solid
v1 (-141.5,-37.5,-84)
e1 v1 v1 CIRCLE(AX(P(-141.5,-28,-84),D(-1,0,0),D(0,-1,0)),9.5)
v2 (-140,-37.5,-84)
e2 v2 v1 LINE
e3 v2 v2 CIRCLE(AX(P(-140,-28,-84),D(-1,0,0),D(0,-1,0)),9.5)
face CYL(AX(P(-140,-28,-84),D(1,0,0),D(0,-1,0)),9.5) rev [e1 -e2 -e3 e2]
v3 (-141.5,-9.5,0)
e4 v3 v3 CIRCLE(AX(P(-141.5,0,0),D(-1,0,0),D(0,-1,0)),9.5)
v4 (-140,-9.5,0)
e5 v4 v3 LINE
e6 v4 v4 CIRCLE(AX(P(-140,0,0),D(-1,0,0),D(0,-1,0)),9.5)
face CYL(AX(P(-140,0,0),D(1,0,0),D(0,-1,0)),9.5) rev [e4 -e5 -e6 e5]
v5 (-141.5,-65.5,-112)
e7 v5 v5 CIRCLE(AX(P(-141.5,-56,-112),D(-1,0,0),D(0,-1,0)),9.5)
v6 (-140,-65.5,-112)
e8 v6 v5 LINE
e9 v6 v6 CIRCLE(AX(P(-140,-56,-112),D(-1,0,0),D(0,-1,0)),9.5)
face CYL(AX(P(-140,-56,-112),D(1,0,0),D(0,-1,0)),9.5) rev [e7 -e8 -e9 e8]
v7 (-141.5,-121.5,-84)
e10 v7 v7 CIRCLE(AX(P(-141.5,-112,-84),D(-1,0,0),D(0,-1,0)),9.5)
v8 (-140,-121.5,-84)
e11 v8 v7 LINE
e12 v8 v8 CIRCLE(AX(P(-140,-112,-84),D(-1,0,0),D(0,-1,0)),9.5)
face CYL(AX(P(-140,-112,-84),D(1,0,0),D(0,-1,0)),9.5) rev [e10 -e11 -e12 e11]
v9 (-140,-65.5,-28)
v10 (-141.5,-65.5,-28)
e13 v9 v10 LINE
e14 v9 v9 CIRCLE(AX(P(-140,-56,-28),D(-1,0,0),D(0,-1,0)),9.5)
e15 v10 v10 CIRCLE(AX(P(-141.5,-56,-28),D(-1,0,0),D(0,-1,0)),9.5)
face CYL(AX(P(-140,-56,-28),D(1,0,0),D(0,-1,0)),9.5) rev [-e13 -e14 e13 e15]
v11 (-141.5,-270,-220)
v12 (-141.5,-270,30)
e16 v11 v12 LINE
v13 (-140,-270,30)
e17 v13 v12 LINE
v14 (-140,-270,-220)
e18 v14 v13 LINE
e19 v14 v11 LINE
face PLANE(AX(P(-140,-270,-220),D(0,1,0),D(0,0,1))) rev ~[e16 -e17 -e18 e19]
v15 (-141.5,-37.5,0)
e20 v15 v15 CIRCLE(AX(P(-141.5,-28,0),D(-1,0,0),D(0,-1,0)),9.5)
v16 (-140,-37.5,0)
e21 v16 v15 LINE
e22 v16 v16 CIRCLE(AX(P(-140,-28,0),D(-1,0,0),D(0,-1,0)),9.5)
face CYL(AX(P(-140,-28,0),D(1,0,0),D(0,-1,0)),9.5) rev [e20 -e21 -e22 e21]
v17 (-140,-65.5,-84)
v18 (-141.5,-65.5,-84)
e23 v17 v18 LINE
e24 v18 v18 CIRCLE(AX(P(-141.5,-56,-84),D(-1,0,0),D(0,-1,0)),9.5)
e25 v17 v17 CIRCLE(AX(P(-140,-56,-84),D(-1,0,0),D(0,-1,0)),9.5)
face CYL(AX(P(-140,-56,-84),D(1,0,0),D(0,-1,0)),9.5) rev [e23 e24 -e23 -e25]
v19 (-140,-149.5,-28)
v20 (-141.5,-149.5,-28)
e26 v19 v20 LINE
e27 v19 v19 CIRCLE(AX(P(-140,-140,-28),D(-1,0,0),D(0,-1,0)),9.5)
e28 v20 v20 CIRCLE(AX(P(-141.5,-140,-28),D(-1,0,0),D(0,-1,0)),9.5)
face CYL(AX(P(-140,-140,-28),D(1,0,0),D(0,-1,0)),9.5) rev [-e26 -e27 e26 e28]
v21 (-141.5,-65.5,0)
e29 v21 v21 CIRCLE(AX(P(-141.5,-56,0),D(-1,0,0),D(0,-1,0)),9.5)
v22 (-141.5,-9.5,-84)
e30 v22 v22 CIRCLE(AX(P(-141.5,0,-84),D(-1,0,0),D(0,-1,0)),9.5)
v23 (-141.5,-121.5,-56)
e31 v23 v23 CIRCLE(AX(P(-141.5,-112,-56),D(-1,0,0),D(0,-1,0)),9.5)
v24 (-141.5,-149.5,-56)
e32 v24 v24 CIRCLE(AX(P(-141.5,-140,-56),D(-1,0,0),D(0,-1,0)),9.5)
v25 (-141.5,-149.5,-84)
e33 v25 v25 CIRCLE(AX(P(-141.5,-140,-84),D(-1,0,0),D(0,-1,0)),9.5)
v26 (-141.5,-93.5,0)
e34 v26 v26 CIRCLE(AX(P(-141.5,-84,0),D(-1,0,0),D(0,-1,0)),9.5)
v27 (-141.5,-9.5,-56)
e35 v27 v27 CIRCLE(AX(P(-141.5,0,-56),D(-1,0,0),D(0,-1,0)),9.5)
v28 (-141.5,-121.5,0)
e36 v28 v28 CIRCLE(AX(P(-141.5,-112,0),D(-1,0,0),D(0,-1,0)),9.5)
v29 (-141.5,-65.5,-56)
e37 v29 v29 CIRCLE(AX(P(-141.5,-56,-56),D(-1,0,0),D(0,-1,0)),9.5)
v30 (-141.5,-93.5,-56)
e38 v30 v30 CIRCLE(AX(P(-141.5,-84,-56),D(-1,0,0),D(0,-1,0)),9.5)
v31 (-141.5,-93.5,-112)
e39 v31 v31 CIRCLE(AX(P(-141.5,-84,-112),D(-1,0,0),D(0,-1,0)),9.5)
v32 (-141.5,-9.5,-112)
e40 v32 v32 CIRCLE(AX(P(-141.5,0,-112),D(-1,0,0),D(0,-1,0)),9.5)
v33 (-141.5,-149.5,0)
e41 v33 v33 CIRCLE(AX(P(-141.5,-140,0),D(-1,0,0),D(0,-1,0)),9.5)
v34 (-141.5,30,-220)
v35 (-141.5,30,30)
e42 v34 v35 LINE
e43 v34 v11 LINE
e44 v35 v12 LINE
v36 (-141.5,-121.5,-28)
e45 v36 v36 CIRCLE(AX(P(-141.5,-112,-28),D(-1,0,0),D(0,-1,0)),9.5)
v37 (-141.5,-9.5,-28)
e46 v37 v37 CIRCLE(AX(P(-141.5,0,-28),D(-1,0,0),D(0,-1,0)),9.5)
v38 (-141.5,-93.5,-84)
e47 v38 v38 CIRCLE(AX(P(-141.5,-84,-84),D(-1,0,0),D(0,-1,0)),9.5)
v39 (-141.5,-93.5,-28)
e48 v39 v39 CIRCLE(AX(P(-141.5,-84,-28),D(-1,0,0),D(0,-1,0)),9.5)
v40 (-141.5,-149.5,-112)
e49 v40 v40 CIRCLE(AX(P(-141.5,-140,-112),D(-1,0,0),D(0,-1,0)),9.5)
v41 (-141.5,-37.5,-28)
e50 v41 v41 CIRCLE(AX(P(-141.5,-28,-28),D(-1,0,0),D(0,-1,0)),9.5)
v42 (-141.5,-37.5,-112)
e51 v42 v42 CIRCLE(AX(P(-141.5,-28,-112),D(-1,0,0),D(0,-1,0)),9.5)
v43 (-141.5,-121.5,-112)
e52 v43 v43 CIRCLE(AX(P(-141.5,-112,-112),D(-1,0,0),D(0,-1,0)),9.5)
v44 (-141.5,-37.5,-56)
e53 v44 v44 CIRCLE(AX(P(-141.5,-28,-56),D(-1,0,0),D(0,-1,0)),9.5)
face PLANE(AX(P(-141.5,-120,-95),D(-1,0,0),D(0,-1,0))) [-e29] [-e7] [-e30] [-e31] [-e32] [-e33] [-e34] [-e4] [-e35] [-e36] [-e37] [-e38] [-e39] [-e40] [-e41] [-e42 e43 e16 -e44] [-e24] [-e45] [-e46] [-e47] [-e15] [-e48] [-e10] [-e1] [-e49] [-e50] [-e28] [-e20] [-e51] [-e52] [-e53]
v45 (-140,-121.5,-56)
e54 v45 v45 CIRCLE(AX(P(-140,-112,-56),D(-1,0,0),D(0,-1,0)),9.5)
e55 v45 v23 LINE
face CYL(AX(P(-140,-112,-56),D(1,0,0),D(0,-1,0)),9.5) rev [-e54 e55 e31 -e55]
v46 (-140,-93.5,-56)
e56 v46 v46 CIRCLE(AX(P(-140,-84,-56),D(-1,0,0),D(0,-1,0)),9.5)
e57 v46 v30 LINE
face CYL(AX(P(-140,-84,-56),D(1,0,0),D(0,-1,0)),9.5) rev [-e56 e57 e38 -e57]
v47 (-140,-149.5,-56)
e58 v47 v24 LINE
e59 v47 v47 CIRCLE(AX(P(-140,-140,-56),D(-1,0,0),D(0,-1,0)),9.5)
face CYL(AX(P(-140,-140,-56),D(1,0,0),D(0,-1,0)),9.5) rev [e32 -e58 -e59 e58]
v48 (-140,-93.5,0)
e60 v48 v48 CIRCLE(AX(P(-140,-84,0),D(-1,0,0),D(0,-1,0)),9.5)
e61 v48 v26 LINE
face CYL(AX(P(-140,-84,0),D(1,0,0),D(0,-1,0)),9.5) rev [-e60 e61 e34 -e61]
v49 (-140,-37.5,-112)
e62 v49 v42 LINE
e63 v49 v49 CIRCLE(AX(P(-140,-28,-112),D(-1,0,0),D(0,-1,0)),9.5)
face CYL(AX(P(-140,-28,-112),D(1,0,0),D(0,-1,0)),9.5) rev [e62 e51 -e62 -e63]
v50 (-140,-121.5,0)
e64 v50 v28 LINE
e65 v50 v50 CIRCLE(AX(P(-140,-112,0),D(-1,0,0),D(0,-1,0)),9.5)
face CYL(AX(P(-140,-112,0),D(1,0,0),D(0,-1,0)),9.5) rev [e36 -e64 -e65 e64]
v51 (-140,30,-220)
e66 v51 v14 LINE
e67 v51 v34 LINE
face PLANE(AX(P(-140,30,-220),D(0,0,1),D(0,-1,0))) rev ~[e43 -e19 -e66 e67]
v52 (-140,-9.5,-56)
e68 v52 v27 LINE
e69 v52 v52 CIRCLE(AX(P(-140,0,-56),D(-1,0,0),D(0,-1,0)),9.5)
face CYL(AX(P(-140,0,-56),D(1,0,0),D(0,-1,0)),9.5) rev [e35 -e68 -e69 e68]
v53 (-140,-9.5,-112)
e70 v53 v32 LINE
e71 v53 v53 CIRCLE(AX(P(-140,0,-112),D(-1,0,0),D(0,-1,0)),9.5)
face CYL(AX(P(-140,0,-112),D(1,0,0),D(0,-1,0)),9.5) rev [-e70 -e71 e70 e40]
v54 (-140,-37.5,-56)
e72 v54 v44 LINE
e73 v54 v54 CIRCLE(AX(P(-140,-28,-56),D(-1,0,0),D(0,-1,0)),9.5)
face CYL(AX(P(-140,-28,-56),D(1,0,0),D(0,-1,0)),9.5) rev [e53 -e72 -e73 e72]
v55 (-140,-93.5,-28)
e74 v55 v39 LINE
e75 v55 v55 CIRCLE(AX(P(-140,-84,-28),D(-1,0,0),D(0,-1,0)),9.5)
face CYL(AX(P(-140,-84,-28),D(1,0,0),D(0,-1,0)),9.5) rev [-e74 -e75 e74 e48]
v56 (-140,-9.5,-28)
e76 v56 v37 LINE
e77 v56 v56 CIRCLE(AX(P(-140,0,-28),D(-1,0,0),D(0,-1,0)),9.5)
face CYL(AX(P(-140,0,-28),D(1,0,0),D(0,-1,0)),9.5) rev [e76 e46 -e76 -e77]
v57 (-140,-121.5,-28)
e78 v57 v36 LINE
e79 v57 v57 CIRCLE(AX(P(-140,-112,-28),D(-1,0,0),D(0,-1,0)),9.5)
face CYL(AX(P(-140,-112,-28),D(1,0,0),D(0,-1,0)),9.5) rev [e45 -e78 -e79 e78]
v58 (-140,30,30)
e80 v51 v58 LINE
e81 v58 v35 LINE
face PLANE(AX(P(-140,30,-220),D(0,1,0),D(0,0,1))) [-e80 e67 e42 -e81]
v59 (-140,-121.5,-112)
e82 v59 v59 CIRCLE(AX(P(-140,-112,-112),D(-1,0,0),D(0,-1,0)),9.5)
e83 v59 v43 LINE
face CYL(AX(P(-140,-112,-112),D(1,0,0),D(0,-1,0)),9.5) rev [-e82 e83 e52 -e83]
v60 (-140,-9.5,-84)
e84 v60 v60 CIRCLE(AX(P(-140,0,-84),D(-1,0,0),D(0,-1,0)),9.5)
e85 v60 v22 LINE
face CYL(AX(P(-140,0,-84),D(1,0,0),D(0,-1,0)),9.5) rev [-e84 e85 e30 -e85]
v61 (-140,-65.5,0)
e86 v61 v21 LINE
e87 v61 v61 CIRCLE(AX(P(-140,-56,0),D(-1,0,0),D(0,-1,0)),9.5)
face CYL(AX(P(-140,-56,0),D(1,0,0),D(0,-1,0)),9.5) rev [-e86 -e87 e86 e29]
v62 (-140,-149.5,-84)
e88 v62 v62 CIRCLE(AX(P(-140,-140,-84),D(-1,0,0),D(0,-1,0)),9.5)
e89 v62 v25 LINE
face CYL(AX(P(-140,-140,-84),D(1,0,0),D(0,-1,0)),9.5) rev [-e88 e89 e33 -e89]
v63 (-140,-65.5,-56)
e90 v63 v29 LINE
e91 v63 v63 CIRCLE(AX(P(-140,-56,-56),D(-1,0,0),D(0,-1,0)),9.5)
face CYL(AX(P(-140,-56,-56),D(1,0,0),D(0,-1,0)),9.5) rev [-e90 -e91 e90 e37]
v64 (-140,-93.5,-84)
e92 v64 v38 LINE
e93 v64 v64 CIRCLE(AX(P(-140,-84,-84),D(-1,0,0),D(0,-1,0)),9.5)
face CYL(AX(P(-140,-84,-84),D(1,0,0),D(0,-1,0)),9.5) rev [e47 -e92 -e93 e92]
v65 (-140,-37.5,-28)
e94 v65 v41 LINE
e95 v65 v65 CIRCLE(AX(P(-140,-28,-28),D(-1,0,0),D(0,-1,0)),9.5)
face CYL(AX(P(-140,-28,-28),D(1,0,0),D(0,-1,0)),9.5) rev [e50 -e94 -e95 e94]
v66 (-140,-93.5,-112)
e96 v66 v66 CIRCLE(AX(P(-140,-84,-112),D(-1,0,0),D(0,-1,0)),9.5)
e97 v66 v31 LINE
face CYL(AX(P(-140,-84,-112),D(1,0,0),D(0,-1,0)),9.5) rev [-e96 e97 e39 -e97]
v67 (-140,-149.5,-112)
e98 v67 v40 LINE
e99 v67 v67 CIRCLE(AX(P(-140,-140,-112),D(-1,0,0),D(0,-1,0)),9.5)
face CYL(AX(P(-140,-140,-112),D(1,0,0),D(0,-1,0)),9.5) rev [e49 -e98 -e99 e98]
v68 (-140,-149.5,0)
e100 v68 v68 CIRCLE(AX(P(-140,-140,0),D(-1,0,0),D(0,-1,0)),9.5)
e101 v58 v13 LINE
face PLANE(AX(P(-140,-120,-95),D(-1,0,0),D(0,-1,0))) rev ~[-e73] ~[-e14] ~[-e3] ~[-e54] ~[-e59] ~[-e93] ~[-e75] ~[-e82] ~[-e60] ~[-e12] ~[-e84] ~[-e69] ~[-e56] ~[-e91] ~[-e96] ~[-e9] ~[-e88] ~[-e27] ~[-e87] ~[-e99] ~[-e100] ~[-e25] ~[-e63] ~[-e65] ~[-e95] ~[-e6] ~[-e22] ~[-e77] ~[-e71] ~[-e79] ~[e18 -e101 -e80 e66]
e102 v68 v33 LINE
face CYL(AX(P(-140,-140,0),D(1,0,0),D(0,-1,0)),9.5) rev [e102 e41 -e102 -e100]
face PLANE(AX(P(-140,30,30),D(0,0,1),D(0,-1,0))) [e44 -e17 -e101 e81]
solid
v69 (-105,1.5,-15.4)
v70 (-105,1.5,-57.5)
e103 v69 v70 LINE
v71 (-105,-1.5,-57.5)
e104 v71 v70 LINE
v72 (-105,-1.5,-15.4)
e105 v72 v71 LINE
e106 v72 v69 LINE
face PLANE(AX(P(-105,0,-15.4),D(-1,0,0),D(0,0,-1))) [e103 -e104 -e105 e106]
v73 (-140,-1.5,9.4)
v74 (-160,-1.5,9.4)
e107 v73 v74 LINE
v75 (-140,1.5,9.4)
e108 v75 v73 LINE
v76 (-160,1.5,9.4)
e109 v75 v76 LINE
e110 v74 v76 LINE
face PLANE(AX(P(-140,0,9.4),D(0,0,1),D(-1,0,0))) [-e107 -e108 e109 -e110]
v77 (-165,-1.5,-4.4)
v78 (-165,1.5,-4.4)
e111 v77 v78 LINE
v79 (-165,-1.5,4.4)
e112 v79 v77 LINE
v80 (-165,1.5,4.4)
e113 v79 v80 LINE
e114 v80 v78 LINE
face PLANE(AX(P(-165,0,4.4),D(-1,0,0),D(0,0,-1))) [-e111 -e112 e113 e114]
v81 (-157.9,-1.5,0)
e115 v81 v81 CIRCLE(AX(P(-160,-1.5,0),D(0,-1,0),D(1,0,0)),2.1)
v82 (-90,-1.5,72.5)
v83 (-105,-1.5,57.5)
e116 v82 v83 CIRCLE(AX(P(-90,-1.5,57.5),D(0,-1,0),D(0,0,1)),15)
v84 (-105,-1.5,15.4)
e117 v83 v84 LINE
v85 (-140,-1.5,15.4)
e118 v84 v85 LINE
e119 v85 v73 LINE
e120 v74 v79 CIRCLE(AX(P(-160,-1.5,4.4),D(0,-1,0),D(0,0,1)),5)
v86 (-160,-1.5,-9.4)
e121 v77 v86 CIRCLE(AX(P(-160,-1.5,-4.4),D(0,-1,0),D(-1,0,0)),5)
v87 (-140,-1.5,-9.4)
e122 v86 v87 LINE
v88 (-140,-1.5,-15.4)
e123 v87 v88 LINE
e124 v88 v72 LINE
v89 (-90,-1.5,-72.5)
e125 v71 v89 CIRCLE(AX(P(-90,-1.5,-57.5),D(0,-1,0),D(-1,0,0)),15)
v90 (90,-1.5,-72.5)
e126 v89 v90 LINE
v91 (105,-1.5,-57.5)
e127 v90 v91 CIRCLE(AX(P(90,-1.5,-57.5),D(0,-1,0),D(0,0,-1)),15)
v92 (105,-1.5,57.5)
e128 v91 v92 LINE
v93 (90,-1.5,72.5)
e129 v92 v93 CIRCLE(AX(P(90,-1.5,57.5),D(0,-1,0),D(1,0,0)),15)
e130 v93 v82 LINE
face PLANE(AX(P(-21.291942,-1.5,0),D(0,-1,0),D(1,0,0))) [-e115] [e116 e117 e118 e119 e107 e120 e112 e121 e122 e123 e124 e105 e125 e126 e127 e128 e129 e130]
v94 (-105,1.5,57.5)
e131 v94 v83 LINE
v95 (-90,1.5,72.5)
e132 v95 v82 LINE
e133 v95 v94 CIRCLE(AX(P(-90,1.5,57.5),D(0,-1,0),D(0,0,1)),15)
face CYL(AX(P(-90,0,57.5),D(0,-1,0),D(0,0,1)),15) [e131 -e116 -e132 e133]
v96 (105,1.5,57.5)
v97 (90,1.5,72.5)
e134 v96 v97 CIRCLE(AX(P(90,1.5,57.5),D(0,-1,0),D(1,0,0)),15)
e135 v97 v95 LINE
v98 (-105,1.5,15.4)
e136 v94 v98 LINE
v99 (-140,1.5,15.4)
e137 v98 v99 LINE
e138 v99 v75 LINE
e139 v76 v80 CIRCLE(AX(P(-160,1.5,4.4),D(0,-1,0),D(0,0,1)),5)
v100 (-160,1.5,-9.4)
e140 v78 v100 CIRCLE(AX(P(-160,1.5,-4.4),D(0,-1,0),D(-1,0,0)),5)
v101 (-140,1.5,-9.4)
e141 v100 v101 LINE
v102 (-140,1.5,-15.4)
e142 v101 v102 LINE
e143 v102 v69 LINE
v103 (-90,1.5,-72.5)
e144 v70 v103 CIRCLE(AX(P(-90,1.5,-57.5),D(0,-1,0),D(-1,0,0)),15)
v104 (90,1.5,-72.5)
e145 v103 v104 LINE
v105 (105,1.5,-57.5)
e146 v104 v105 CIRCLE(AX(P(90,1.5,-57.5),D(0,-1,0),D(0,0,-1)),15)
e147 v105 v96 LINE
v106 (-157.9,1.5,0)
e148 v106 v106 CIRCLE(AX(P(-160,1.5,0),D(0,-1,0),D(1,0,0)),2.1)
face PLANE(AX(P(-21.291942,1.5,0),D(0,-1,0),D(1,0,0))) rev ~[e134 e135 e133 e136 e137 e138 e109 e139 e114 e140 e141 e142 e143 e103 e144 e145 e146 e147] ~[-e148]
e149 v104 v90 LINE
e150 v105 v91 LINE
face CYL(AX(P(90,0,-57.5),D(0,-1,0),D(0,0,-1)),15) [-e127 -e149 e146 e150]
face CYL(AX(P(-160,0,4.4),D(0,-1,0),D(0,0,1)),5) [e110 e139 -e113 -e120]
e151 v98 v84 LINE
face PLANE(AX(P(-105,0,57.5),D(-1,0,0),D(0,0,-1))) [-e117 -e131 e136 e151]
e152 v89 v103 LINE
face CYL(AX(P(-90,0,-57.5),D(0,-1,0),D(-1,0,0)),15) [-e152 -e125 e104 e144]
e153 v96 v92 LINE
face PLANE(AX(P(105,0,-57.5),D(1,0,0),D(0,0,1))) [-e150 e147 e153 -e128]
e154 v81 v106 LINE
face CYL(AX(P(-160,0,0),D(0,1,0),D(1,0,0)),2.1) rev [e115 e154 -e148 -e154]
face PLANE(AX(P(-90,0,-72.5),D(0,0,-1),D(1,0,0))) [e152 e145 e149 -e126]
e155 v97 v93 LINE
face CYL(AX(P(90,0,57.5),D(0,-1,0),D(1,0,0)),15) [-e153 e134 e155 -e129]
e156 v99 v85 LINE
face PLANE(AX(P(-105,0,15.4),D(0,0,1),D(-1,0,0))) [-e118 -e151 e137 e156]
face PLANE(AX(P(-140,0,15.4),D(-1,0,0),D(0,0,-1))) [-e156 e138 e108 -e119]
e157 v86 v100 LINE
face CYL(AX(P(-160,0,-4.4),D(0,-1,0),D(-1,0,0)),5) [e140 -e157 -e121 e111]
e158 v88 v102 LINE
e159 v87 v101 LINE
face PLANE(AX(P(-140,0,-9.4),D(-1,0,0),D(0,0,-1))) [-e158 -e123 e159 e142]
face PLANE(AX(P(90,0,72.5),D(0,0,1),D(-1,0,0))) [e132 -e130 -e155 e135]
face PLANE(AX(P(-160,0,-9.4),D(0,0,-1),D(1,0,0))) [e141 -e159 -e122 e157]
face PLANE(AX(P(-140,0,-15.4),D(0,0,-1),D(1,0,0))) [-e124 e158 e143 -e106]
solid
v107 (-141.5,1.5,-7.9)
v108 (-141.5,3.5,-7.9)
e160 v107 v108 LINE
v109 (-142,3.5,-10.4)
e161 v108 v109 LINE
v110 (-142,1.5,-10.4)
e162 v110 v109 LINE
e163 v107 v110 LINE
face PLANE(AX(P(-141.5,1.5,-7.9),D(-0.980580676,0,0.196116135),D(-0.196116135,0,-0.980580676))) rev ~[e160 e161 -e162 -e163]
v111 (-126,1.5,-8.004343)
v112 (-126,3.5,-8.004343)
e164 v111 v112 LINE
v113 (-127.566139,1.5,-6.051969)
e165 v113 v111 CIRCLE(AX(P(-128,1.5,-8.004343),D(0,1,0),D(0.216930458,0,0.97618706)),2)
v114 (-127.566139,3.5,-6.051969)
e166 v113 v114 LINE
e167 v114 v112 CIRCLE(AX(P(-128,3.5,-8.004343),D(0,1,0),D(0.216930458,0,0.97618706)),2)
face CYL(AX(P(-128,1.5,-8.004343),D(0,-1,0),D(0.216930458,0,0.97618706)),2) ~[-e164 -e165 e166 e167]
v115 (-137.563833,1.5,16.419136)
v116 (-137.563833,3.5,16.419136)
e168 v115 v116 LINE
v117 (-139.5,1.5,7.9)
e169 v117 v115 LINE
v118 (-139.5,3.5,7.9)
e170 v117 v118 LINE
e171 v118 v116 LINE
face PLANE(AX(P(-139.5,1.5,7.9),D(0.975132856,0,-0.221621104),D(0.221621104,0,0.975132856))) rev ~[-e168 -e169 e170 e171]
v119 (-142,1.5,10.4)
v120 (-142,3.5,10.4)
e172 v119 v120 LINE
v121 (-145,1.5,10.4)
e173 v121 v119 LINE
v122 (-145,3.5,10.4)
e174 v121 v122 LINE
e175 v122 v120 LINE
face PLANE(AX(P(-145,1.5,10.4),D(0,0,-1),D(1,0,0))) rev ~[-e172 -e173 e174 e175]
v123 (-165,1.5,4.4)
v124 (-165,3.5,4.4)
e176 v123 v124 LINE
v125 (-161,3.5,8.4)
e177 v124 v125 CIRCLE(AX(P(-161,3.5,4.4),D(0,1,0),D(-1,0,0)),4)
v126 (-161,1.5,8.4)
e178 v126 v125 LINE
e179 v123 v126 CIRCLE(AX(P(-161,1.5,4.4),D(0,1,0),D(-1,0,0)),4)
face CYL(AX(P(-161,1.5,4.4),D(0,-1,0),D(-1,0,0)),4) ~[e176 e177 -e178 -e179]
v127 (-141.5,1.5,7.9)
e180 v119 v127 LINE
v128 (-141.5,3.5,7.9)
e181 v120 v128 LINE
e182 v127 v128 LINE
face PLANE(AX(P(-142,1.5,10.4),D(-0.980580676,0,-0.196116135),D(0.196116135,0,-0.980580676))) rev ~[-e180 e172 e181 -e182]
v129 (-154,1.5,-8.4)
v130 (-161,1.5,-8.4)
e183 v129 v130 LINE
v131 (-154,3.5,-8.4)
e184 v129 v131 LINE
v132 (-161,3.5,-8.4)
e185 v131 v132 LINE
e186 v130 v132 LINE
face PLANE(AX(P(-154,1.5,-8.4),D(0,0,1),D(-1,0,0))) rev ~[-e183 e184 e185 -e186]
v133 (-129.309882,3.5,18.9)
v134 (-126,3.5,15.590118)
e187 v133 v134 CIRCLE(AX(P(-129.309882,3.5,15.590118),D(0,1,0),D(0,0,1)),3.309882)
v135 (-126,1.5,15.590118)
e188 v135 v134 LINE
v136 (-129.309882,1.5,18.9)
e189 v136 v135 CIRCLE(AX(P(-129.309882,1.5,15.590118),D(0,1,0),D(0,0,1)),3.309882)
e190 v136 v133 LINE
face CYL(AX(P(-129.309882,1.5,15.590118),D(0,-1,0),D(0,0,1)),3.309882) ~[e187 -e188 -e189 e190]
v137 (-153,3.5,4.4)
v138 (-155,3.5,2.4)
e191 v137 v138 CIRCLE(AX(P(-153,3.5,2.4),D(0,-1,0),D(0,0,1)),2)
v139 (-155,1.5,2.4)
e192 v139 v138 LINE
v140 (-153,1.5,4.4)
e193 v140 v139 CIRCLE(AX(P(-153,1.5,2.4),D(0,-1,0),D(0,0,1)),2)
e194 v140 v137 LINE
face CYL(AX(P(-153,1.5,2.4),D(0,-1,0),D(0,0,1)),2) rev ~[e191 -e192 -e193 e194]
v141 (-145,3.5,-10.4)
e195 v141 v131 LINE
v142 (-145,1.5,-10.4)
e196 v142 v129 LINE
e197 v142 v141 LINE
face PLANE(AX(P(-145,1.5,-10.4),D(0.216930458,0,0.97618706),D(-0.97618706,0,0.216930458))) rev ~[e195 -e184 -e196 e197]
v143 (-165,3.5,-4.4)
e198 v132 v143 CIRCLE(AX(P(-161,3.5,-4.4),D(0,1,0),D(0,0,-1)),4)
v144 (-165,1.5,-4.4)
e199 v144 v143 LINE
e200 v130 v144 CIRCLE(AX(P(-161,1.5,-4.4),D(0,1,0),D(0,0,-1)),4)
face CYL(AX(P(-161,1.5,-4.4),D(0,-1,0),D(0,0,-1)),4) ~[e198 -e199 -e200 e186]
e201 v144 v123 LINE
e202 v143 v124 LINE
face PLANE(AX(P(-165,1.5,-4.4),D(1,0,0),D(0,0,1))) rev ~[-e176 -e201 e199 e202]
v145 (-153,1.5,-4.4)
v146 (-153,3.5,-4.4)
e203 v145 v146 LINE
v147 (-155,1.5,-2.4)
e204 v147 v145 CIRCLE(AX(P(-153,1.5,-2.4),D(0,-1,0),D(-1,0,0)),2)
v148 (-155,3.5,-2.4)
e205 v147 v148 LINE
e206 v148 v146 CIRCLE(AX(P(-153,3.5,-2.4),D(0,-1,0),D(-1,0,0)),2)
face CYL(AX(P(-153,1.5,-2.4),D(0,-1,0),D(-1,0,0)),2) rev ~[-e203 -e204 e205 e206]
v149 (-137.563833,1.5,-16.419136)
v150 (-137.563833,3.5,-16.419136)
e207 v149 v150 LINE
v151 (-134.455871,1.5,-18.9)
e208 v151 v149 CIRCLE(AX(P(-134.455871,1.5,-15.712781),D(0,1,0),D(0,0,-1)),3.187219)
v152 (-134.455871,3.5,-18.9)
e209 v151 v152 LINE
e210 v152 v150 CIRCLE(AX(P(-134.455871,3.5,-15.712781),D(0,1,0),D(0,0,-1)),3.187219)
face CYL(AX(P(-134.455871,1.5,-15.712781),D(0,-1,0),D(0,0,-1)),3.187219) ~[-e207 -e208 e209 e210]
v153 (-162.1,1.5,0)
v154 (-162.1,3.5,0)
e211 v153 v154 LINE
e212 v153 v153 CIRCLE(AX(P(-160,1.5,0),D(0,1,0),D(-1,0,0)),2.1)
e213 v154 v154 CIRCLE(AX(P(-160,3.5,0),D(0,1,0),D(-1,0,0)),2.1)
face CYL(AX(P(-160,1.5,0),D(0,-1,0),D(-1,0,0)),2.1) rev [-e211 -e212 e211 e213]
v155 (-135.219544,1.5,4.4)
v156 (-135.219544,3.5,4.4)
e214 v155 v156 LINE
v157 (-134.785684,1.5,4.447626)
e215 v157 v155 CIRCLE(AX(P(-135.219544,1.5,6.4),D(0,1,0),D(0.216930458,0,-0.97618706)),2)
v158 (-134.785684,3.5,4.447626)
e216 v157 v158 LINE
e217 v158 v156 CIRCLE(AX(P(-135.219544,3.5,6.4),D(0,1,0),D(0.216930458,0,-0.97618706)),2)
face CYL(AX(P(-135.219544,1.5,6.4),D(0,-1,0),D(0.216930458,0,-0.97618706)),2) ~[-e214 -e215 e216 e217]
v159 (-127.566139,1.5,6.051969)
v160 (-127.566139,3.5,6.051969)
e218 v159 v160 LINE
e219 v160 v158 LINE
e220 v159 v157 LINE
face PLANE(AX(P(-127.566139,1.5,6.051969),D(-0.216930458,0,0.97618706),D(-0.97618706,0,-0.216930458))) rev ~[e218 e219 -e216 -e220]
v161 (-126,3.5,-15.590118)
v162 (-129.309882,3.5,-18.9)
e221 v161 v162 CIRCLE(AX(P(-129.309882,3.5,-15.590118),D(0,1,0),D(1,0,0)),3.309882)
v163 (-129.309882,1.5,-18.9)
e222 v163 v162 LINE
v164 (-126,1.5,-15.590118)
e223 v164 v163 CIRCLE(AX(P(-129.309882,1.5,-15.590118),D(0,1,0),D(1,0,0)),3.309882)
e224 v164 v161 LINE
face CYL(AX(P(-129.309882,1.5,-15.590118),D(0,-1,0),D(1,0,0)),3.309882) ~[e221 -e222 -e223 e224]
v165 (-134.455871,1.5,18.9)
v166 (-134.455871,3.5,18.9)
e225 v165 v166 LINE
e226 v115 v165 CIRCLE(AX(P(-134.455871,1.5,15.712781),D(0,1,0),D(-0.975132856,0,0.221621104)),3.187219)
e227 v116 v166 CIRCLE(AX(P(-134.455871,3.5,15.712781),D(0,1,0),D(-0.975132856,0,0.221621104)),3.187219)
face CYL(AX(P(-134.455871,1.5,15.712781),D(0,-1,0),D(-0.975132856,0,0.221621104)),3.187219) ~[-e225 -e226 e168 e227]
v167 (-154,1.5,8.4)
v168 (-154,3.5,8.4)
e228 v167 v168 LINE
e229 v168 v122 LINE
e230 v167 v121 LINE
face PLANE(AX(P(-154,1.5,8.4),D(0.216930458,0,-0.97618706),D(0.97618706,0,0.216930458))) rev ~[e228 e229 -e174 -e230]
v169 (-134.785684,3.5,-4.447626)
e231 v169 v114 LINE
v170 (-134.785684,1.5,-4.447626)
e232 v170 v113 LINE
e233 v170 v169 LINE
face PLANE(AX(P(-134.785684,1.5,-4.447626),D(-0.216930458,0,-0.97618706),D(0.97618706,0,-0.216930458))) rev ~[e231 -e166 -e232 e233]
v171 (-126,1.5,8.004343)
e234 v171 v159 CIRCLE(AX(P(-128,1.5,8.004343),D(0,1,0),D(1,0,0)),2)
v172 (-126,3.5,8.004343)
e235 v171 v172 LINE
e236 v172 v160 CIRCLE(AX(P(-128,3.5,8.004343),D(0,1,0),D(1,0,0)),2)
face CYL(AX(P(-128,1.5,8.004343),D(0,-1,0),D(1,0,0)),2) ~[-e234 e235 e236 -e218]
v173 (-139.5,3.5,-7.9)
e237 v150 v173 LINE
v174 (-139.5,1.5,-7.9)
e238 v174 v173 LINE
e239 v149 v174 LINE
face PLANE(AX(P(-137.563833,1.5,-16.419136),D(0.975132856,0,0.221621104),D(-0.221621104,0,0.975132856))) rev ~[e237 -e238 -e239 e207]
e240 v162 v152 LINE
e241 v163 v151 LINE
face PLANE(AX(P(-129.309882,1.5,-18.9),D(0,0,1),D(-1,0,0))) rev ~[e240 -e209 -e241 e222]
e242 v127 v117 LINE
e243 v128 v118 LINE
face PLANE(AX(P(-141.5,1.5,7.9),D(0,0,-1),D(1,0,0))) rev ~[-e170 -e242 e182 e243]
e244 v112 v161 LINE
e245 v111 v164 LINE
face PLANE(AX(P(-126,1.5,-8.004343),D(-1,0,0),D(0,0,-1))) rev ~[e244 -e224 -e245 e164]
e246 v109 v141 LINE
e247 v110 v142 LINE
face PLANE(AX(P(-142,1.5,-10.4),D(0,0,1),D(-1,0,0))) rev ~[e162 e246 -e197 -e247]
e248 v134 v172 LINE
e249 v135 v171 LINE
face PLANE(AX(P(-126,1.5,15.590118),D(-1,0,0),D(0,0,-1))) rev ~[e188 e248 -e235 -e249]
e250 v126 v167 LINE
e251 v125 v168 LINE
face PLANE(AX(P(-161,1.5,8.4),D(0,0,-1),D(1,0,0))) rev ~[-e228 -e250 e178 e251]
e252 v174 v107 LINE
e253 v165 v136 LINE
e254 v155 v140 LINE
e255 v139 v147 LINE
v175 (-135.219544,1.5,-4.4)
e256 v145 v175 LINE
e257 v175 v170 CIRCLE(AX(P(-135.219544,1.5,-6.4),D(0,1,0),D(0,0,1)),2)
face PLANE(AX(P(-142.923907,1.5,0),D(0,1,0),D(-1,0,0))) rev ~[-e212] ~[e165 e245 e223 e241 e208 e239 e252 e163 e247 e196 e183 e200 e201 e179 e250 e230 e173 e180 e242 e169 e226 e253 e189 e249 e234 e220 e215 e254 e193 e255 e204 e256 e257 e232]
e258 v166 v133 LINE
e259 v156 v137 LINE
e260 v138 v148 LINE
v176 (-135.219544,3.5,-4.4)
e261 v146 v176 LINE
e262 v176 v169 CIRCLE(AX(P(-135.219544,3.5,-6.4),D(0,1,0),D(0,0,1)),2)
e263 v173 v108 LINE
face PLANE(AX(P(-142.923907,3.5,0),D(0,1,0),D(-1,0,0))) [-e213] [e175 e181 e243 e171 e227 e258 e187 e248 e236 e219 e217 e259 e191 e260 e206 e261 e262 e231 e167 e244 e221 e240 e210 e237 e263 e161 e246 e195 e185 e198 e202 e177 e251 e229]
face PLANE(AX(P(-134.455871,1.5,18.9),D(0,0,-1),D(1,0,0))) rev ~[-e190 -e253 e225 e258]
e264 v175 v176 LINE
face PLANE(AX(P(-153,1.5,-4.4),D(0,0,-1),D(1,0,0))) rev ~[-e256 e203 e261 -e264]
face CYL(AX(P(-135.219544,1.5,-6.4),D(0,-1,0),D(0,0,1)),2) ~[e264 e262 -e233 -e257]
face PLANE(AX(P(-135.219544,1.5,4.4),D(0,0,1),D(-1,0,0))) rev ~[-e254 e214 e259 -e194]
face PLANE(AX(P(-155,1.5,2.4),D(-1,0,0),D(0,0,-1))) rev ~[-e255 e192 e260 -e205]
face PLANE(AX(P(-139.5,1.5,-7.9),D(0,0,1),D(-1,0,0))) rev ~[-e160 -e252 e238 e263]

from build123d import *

# Parameters (mm, degrees)
F0_R     = 2.1
F1_DEPTH = 1.5
F3_W     = 300
F3_H     = 250
F3_R     = 9.5
F4_DEPTH = 1.5
F5_R     = 2.1
F6_DEPTH = 2


with BuildPart() as f1:
    # F0 (on Front) → F1 (new body, symmetric)
    with BuildSketch(Plane.XZ):
        with BuildLine():
            Line((-90, -72.5), (90, -72.5))
            ThreePointArc((90, -72.5), (100.6066017178, -68.1066017178), (105, -57.5))
            Line((105, -57.5), (105, 57.5))
            ThreePointArc((105, 57.5), (100.6066017178, 68.1066017178), (90, 72.5))
            Line((90, 72.5), (-90, 72.5))
            ThreePointArc((-90, 72.5), (-100.6066017178, 68.1066017178), (-105, 57.5))
            Line((-105, 57.5), (-105, 15.4))
            Line((-105, 15.4), (-140, 15.4))
            Line((-140, 15.4), (-140, 9.4))
            Line((-140, 9.4), (-160, 9.4))
            ThreePointArc((-160, 9.4), (-163.5355339059, 7.9355339059), (-165, 4.4))
            Line((-165, 4.4), (-165, 0))
            Line((-165, 0), (-165, -4.4))
            ThreePointArc((-165, -4.4), (-163.5355339059, -7.9355339059), (-160, -9.4))
            Line((-160, -9.4), (-140, -9.4))
            Line((-140, -9.4), (-140, -15.4))
            Line((-140, -15.4), (-105, -15.4))
            Line((-105, -15.4), (-105, -57.5))
            ThreePointArc((-105, -57.5), (-100.6066017178, -68.1066017178), (-90, -72.5))
        make_face()
        with Locations((-160, 0)):
            Circle(F0_R, mode=Mode.SUBTRACT)
    extrude(amount=F1_DEPTH, both=True)


with BuildPart() as f4:
    # F3 (on offset) → F4 (new body)
    with BuildSketch(Plane(origin=(-140, 0, 0), x_dir=(0, -1, 0), z_dir=(-1, 0, 0))):
        with Locations((120, -95)):
            Rectangle(F3_W, F3_H)
        with Locations((0, -112)):
            Circle(F3_R, mode=Mode.SUBTRACT)
        with Locations((28, -112)):
            Circle(F3_R, mode=Mode.SUBTRACT)
        with Locations((56, -112)):
            Circle(F3_R, mode=Mode.SUBTRACT)
        with Locations((84, -112)):
            Circle(F3_R, mode=Mode.SUBTRACT)
        with Locations((112, -112)):
            Circle(F3_R, mode=Mode.SUBTRACT)
        with Locations((140, -112)):
            Circle(F3_R, mode=Mode.SUBTRACT)
        with Locations((0, -84)):
            Circle(F3_R, mode=Mode.SUBTRACT)
        with Locations((28, -84)):
            Circle(F3_R, mode=Mode.SUBTRACT)
        with Locations((0, -56)):
            Circle(F3_R, mode=Mode.SUBTRACT)
        with Locations((28, -56)):
            Circle(F3_R, mode=Mode.SUBTRACT)
        with Locations((56, -84)):
            Circle(F3_R, mode=Mode.SUBTRACT)
        with Locations((84, -84)):
            Circle(F3_R, mode=Mode.SUBTRACT)
        with Locations((112, -84)):
            Circle(F3_R, mode=Mode.SUBTRACT)
        with Locations((56, -56)):
            Circle(F3_R, mode=Mode.SUBTRACT)
        with Locations((84, -56)):
            Circle(F3_R, mode=Mode.SUBTRACT)
        with Locations((112, -56)):
            Circle(F3_R, mode=Mode.SUBTRACT)
        with Locations((0, -28)):
            Circle(F3_R, mode=Mode.SUBTRACT)
        with Locations((28, -28)):
            Circle(F3_R, mode=Mode.SUBTRACT)
        Circle(F3_R, mode=Mode.SUBTRACT)
        with Locations((28, 0)):
            Circle(F3_R, mode=Mode.SUBTRACT)
        with Locations((56, -28)):
            Circle(F3_R, mode=Mode.SUBTRACT)
        with Locations((84, -28)):
            Circle(F3_R, mode=Mode.SUBTRACT)
        with Locations((112, -28)):
            Circle(F3_R, mode=Mode.SUBTRACT)
        with Locations((56, 0)):
            Circle(F3_R, mode=Mode.SUBTRACT)
        with Locations((84, 0)):
            Circle(F3_R, mode=Mode.SUBTRACT)
        with Locations((112, 0)):
            Circle(F3_R, mode=Mode.SUBTRACT)
        with Locations((140, -84)):
            Circle(F3_R, mode=Mode.SUBTRACT)
        with Locations((140, -56)):
            Circle(F3_R, mode=Mode.SUBTRACT)
        with Locations((140, -28)):
            Circle(F3_R, mode=Mode.SUBTRACT)
        with Locations((140, 0)):
            Circle(F3_R, mode=Mode.SUBTRACT)
    extrude(amount=F4_DEPTH)


with BuildPart() as f6:
    # F5 (on face) → F6 (new body)
    with BuildSketch(Plane(origin=(0, 1.5, 0), x_dir=(-1, 0, 0), z_dir=(0, 1, 0))):
        with BuildLine():
            Line((141.5, 7.9), (139.5, 7.9))
            Line((139.5, 7.9), (137.5638327285, 16.4191359947))
            ThreePointArc((137.5638327285, 16.4191359947), (136.4442189356, 18.2037319241), (134.4558707661, 18.9))
            Line((134.4558707661, 18.9), (129.3098824649, 18.9))
            ThreePointArc((129.3098824649, 18.9), (126.969442129, 17.930557871), (126, 15.5901175351))
            Line((126, 15.5901175351), (126, 8.0043432127))
            ThreePointArc((126, 8.0043432127), (126.4399163754, 6.7528884255), (127.5661390844, 6.0519690924))
            Line((127.5661390844, 6.0519690924), (134.7856835417, 4.4476258796))
            ThreePointArc((134.7856835417, 4.4476258796), (135.0013109135, 4.4119421235), (135.2195444573, 4.4))
            Line((135.2195444573, 4.4), (153, 4.4))
            ThreePointArc((153, 4.4), (154.4142135624, 3.8142135624), (155, 2.4))
            Line((155, 2.4), (155, 0))
            Line((155, 0), (155, -2.4))
            ThreePointArc((155, -2.4), (154.4142135624, -3.8142135624), (153, -4.4))
            Line((153, -4.4), (135.2195444573, -4.4))
            ThreePointArc((135.2195444573, -4.4), (135.0013109135, -4.4119421235), (134.7856835417, -4.4476258796))
            Line((134.7856835417, -4.4476258796), (127.5661390844, -6.0519690924))
            ThreePointArc((127.5661390844, -6.0519690924), (126.4399163754, -6.7528884255), (126, -8.0043432127))
            Line((126, -8.0043432127), (126, -15.5901175351))
            ThreePointArc((126, -15.5901175351), (126.969442129, -17.930557871), (129.3098824649, -18.9))
            Line((129.3098824649, -18.9), (134.4558707661, -18.9))
            ThreePointArc((134.4558707661, -18.9), (136.4442189356, -18.2037319241), (137.5638327285, -16.4191359947))
            Line((137.5638327285, -16.4191359947), (139.5, -7.9))
            Line((139.5, -7.9), (141.5, -7.9))
            Line((141.5, -7.9), (142, -10.4))
            Line((142, -10.4), (145, -10.4))
            Line((145, -10.4), (154, -8.4))
            Line((154, -8.4), (161, -8.4))
            ThreePointArc((161, -8.4), (163.8284271247, -7.2284271247), (165, -4.4))
            Line((165, -4.4), (165, 0))
            Line((165, 0), (165, 4.4))
            ThreePointArc((165, 4.4), (163.8284271247, 7.2284271247), (161, 8.4))
            Line((161, 8.4), (154, 8.4))
            Line((154, 8.4), (145, 10.4))
            Line((145, 10.4), (142, 10.4))
            Line((142, 10.4), (141.5, 7.9))
        make_face()
        with Locations((160, 0)):
            Circle(F5_R, mode=Mode.SUBTRACT)
    extrude(amount=F6_DEPTH)


solid = Compound([f1.part, f4.part, f6.part])
